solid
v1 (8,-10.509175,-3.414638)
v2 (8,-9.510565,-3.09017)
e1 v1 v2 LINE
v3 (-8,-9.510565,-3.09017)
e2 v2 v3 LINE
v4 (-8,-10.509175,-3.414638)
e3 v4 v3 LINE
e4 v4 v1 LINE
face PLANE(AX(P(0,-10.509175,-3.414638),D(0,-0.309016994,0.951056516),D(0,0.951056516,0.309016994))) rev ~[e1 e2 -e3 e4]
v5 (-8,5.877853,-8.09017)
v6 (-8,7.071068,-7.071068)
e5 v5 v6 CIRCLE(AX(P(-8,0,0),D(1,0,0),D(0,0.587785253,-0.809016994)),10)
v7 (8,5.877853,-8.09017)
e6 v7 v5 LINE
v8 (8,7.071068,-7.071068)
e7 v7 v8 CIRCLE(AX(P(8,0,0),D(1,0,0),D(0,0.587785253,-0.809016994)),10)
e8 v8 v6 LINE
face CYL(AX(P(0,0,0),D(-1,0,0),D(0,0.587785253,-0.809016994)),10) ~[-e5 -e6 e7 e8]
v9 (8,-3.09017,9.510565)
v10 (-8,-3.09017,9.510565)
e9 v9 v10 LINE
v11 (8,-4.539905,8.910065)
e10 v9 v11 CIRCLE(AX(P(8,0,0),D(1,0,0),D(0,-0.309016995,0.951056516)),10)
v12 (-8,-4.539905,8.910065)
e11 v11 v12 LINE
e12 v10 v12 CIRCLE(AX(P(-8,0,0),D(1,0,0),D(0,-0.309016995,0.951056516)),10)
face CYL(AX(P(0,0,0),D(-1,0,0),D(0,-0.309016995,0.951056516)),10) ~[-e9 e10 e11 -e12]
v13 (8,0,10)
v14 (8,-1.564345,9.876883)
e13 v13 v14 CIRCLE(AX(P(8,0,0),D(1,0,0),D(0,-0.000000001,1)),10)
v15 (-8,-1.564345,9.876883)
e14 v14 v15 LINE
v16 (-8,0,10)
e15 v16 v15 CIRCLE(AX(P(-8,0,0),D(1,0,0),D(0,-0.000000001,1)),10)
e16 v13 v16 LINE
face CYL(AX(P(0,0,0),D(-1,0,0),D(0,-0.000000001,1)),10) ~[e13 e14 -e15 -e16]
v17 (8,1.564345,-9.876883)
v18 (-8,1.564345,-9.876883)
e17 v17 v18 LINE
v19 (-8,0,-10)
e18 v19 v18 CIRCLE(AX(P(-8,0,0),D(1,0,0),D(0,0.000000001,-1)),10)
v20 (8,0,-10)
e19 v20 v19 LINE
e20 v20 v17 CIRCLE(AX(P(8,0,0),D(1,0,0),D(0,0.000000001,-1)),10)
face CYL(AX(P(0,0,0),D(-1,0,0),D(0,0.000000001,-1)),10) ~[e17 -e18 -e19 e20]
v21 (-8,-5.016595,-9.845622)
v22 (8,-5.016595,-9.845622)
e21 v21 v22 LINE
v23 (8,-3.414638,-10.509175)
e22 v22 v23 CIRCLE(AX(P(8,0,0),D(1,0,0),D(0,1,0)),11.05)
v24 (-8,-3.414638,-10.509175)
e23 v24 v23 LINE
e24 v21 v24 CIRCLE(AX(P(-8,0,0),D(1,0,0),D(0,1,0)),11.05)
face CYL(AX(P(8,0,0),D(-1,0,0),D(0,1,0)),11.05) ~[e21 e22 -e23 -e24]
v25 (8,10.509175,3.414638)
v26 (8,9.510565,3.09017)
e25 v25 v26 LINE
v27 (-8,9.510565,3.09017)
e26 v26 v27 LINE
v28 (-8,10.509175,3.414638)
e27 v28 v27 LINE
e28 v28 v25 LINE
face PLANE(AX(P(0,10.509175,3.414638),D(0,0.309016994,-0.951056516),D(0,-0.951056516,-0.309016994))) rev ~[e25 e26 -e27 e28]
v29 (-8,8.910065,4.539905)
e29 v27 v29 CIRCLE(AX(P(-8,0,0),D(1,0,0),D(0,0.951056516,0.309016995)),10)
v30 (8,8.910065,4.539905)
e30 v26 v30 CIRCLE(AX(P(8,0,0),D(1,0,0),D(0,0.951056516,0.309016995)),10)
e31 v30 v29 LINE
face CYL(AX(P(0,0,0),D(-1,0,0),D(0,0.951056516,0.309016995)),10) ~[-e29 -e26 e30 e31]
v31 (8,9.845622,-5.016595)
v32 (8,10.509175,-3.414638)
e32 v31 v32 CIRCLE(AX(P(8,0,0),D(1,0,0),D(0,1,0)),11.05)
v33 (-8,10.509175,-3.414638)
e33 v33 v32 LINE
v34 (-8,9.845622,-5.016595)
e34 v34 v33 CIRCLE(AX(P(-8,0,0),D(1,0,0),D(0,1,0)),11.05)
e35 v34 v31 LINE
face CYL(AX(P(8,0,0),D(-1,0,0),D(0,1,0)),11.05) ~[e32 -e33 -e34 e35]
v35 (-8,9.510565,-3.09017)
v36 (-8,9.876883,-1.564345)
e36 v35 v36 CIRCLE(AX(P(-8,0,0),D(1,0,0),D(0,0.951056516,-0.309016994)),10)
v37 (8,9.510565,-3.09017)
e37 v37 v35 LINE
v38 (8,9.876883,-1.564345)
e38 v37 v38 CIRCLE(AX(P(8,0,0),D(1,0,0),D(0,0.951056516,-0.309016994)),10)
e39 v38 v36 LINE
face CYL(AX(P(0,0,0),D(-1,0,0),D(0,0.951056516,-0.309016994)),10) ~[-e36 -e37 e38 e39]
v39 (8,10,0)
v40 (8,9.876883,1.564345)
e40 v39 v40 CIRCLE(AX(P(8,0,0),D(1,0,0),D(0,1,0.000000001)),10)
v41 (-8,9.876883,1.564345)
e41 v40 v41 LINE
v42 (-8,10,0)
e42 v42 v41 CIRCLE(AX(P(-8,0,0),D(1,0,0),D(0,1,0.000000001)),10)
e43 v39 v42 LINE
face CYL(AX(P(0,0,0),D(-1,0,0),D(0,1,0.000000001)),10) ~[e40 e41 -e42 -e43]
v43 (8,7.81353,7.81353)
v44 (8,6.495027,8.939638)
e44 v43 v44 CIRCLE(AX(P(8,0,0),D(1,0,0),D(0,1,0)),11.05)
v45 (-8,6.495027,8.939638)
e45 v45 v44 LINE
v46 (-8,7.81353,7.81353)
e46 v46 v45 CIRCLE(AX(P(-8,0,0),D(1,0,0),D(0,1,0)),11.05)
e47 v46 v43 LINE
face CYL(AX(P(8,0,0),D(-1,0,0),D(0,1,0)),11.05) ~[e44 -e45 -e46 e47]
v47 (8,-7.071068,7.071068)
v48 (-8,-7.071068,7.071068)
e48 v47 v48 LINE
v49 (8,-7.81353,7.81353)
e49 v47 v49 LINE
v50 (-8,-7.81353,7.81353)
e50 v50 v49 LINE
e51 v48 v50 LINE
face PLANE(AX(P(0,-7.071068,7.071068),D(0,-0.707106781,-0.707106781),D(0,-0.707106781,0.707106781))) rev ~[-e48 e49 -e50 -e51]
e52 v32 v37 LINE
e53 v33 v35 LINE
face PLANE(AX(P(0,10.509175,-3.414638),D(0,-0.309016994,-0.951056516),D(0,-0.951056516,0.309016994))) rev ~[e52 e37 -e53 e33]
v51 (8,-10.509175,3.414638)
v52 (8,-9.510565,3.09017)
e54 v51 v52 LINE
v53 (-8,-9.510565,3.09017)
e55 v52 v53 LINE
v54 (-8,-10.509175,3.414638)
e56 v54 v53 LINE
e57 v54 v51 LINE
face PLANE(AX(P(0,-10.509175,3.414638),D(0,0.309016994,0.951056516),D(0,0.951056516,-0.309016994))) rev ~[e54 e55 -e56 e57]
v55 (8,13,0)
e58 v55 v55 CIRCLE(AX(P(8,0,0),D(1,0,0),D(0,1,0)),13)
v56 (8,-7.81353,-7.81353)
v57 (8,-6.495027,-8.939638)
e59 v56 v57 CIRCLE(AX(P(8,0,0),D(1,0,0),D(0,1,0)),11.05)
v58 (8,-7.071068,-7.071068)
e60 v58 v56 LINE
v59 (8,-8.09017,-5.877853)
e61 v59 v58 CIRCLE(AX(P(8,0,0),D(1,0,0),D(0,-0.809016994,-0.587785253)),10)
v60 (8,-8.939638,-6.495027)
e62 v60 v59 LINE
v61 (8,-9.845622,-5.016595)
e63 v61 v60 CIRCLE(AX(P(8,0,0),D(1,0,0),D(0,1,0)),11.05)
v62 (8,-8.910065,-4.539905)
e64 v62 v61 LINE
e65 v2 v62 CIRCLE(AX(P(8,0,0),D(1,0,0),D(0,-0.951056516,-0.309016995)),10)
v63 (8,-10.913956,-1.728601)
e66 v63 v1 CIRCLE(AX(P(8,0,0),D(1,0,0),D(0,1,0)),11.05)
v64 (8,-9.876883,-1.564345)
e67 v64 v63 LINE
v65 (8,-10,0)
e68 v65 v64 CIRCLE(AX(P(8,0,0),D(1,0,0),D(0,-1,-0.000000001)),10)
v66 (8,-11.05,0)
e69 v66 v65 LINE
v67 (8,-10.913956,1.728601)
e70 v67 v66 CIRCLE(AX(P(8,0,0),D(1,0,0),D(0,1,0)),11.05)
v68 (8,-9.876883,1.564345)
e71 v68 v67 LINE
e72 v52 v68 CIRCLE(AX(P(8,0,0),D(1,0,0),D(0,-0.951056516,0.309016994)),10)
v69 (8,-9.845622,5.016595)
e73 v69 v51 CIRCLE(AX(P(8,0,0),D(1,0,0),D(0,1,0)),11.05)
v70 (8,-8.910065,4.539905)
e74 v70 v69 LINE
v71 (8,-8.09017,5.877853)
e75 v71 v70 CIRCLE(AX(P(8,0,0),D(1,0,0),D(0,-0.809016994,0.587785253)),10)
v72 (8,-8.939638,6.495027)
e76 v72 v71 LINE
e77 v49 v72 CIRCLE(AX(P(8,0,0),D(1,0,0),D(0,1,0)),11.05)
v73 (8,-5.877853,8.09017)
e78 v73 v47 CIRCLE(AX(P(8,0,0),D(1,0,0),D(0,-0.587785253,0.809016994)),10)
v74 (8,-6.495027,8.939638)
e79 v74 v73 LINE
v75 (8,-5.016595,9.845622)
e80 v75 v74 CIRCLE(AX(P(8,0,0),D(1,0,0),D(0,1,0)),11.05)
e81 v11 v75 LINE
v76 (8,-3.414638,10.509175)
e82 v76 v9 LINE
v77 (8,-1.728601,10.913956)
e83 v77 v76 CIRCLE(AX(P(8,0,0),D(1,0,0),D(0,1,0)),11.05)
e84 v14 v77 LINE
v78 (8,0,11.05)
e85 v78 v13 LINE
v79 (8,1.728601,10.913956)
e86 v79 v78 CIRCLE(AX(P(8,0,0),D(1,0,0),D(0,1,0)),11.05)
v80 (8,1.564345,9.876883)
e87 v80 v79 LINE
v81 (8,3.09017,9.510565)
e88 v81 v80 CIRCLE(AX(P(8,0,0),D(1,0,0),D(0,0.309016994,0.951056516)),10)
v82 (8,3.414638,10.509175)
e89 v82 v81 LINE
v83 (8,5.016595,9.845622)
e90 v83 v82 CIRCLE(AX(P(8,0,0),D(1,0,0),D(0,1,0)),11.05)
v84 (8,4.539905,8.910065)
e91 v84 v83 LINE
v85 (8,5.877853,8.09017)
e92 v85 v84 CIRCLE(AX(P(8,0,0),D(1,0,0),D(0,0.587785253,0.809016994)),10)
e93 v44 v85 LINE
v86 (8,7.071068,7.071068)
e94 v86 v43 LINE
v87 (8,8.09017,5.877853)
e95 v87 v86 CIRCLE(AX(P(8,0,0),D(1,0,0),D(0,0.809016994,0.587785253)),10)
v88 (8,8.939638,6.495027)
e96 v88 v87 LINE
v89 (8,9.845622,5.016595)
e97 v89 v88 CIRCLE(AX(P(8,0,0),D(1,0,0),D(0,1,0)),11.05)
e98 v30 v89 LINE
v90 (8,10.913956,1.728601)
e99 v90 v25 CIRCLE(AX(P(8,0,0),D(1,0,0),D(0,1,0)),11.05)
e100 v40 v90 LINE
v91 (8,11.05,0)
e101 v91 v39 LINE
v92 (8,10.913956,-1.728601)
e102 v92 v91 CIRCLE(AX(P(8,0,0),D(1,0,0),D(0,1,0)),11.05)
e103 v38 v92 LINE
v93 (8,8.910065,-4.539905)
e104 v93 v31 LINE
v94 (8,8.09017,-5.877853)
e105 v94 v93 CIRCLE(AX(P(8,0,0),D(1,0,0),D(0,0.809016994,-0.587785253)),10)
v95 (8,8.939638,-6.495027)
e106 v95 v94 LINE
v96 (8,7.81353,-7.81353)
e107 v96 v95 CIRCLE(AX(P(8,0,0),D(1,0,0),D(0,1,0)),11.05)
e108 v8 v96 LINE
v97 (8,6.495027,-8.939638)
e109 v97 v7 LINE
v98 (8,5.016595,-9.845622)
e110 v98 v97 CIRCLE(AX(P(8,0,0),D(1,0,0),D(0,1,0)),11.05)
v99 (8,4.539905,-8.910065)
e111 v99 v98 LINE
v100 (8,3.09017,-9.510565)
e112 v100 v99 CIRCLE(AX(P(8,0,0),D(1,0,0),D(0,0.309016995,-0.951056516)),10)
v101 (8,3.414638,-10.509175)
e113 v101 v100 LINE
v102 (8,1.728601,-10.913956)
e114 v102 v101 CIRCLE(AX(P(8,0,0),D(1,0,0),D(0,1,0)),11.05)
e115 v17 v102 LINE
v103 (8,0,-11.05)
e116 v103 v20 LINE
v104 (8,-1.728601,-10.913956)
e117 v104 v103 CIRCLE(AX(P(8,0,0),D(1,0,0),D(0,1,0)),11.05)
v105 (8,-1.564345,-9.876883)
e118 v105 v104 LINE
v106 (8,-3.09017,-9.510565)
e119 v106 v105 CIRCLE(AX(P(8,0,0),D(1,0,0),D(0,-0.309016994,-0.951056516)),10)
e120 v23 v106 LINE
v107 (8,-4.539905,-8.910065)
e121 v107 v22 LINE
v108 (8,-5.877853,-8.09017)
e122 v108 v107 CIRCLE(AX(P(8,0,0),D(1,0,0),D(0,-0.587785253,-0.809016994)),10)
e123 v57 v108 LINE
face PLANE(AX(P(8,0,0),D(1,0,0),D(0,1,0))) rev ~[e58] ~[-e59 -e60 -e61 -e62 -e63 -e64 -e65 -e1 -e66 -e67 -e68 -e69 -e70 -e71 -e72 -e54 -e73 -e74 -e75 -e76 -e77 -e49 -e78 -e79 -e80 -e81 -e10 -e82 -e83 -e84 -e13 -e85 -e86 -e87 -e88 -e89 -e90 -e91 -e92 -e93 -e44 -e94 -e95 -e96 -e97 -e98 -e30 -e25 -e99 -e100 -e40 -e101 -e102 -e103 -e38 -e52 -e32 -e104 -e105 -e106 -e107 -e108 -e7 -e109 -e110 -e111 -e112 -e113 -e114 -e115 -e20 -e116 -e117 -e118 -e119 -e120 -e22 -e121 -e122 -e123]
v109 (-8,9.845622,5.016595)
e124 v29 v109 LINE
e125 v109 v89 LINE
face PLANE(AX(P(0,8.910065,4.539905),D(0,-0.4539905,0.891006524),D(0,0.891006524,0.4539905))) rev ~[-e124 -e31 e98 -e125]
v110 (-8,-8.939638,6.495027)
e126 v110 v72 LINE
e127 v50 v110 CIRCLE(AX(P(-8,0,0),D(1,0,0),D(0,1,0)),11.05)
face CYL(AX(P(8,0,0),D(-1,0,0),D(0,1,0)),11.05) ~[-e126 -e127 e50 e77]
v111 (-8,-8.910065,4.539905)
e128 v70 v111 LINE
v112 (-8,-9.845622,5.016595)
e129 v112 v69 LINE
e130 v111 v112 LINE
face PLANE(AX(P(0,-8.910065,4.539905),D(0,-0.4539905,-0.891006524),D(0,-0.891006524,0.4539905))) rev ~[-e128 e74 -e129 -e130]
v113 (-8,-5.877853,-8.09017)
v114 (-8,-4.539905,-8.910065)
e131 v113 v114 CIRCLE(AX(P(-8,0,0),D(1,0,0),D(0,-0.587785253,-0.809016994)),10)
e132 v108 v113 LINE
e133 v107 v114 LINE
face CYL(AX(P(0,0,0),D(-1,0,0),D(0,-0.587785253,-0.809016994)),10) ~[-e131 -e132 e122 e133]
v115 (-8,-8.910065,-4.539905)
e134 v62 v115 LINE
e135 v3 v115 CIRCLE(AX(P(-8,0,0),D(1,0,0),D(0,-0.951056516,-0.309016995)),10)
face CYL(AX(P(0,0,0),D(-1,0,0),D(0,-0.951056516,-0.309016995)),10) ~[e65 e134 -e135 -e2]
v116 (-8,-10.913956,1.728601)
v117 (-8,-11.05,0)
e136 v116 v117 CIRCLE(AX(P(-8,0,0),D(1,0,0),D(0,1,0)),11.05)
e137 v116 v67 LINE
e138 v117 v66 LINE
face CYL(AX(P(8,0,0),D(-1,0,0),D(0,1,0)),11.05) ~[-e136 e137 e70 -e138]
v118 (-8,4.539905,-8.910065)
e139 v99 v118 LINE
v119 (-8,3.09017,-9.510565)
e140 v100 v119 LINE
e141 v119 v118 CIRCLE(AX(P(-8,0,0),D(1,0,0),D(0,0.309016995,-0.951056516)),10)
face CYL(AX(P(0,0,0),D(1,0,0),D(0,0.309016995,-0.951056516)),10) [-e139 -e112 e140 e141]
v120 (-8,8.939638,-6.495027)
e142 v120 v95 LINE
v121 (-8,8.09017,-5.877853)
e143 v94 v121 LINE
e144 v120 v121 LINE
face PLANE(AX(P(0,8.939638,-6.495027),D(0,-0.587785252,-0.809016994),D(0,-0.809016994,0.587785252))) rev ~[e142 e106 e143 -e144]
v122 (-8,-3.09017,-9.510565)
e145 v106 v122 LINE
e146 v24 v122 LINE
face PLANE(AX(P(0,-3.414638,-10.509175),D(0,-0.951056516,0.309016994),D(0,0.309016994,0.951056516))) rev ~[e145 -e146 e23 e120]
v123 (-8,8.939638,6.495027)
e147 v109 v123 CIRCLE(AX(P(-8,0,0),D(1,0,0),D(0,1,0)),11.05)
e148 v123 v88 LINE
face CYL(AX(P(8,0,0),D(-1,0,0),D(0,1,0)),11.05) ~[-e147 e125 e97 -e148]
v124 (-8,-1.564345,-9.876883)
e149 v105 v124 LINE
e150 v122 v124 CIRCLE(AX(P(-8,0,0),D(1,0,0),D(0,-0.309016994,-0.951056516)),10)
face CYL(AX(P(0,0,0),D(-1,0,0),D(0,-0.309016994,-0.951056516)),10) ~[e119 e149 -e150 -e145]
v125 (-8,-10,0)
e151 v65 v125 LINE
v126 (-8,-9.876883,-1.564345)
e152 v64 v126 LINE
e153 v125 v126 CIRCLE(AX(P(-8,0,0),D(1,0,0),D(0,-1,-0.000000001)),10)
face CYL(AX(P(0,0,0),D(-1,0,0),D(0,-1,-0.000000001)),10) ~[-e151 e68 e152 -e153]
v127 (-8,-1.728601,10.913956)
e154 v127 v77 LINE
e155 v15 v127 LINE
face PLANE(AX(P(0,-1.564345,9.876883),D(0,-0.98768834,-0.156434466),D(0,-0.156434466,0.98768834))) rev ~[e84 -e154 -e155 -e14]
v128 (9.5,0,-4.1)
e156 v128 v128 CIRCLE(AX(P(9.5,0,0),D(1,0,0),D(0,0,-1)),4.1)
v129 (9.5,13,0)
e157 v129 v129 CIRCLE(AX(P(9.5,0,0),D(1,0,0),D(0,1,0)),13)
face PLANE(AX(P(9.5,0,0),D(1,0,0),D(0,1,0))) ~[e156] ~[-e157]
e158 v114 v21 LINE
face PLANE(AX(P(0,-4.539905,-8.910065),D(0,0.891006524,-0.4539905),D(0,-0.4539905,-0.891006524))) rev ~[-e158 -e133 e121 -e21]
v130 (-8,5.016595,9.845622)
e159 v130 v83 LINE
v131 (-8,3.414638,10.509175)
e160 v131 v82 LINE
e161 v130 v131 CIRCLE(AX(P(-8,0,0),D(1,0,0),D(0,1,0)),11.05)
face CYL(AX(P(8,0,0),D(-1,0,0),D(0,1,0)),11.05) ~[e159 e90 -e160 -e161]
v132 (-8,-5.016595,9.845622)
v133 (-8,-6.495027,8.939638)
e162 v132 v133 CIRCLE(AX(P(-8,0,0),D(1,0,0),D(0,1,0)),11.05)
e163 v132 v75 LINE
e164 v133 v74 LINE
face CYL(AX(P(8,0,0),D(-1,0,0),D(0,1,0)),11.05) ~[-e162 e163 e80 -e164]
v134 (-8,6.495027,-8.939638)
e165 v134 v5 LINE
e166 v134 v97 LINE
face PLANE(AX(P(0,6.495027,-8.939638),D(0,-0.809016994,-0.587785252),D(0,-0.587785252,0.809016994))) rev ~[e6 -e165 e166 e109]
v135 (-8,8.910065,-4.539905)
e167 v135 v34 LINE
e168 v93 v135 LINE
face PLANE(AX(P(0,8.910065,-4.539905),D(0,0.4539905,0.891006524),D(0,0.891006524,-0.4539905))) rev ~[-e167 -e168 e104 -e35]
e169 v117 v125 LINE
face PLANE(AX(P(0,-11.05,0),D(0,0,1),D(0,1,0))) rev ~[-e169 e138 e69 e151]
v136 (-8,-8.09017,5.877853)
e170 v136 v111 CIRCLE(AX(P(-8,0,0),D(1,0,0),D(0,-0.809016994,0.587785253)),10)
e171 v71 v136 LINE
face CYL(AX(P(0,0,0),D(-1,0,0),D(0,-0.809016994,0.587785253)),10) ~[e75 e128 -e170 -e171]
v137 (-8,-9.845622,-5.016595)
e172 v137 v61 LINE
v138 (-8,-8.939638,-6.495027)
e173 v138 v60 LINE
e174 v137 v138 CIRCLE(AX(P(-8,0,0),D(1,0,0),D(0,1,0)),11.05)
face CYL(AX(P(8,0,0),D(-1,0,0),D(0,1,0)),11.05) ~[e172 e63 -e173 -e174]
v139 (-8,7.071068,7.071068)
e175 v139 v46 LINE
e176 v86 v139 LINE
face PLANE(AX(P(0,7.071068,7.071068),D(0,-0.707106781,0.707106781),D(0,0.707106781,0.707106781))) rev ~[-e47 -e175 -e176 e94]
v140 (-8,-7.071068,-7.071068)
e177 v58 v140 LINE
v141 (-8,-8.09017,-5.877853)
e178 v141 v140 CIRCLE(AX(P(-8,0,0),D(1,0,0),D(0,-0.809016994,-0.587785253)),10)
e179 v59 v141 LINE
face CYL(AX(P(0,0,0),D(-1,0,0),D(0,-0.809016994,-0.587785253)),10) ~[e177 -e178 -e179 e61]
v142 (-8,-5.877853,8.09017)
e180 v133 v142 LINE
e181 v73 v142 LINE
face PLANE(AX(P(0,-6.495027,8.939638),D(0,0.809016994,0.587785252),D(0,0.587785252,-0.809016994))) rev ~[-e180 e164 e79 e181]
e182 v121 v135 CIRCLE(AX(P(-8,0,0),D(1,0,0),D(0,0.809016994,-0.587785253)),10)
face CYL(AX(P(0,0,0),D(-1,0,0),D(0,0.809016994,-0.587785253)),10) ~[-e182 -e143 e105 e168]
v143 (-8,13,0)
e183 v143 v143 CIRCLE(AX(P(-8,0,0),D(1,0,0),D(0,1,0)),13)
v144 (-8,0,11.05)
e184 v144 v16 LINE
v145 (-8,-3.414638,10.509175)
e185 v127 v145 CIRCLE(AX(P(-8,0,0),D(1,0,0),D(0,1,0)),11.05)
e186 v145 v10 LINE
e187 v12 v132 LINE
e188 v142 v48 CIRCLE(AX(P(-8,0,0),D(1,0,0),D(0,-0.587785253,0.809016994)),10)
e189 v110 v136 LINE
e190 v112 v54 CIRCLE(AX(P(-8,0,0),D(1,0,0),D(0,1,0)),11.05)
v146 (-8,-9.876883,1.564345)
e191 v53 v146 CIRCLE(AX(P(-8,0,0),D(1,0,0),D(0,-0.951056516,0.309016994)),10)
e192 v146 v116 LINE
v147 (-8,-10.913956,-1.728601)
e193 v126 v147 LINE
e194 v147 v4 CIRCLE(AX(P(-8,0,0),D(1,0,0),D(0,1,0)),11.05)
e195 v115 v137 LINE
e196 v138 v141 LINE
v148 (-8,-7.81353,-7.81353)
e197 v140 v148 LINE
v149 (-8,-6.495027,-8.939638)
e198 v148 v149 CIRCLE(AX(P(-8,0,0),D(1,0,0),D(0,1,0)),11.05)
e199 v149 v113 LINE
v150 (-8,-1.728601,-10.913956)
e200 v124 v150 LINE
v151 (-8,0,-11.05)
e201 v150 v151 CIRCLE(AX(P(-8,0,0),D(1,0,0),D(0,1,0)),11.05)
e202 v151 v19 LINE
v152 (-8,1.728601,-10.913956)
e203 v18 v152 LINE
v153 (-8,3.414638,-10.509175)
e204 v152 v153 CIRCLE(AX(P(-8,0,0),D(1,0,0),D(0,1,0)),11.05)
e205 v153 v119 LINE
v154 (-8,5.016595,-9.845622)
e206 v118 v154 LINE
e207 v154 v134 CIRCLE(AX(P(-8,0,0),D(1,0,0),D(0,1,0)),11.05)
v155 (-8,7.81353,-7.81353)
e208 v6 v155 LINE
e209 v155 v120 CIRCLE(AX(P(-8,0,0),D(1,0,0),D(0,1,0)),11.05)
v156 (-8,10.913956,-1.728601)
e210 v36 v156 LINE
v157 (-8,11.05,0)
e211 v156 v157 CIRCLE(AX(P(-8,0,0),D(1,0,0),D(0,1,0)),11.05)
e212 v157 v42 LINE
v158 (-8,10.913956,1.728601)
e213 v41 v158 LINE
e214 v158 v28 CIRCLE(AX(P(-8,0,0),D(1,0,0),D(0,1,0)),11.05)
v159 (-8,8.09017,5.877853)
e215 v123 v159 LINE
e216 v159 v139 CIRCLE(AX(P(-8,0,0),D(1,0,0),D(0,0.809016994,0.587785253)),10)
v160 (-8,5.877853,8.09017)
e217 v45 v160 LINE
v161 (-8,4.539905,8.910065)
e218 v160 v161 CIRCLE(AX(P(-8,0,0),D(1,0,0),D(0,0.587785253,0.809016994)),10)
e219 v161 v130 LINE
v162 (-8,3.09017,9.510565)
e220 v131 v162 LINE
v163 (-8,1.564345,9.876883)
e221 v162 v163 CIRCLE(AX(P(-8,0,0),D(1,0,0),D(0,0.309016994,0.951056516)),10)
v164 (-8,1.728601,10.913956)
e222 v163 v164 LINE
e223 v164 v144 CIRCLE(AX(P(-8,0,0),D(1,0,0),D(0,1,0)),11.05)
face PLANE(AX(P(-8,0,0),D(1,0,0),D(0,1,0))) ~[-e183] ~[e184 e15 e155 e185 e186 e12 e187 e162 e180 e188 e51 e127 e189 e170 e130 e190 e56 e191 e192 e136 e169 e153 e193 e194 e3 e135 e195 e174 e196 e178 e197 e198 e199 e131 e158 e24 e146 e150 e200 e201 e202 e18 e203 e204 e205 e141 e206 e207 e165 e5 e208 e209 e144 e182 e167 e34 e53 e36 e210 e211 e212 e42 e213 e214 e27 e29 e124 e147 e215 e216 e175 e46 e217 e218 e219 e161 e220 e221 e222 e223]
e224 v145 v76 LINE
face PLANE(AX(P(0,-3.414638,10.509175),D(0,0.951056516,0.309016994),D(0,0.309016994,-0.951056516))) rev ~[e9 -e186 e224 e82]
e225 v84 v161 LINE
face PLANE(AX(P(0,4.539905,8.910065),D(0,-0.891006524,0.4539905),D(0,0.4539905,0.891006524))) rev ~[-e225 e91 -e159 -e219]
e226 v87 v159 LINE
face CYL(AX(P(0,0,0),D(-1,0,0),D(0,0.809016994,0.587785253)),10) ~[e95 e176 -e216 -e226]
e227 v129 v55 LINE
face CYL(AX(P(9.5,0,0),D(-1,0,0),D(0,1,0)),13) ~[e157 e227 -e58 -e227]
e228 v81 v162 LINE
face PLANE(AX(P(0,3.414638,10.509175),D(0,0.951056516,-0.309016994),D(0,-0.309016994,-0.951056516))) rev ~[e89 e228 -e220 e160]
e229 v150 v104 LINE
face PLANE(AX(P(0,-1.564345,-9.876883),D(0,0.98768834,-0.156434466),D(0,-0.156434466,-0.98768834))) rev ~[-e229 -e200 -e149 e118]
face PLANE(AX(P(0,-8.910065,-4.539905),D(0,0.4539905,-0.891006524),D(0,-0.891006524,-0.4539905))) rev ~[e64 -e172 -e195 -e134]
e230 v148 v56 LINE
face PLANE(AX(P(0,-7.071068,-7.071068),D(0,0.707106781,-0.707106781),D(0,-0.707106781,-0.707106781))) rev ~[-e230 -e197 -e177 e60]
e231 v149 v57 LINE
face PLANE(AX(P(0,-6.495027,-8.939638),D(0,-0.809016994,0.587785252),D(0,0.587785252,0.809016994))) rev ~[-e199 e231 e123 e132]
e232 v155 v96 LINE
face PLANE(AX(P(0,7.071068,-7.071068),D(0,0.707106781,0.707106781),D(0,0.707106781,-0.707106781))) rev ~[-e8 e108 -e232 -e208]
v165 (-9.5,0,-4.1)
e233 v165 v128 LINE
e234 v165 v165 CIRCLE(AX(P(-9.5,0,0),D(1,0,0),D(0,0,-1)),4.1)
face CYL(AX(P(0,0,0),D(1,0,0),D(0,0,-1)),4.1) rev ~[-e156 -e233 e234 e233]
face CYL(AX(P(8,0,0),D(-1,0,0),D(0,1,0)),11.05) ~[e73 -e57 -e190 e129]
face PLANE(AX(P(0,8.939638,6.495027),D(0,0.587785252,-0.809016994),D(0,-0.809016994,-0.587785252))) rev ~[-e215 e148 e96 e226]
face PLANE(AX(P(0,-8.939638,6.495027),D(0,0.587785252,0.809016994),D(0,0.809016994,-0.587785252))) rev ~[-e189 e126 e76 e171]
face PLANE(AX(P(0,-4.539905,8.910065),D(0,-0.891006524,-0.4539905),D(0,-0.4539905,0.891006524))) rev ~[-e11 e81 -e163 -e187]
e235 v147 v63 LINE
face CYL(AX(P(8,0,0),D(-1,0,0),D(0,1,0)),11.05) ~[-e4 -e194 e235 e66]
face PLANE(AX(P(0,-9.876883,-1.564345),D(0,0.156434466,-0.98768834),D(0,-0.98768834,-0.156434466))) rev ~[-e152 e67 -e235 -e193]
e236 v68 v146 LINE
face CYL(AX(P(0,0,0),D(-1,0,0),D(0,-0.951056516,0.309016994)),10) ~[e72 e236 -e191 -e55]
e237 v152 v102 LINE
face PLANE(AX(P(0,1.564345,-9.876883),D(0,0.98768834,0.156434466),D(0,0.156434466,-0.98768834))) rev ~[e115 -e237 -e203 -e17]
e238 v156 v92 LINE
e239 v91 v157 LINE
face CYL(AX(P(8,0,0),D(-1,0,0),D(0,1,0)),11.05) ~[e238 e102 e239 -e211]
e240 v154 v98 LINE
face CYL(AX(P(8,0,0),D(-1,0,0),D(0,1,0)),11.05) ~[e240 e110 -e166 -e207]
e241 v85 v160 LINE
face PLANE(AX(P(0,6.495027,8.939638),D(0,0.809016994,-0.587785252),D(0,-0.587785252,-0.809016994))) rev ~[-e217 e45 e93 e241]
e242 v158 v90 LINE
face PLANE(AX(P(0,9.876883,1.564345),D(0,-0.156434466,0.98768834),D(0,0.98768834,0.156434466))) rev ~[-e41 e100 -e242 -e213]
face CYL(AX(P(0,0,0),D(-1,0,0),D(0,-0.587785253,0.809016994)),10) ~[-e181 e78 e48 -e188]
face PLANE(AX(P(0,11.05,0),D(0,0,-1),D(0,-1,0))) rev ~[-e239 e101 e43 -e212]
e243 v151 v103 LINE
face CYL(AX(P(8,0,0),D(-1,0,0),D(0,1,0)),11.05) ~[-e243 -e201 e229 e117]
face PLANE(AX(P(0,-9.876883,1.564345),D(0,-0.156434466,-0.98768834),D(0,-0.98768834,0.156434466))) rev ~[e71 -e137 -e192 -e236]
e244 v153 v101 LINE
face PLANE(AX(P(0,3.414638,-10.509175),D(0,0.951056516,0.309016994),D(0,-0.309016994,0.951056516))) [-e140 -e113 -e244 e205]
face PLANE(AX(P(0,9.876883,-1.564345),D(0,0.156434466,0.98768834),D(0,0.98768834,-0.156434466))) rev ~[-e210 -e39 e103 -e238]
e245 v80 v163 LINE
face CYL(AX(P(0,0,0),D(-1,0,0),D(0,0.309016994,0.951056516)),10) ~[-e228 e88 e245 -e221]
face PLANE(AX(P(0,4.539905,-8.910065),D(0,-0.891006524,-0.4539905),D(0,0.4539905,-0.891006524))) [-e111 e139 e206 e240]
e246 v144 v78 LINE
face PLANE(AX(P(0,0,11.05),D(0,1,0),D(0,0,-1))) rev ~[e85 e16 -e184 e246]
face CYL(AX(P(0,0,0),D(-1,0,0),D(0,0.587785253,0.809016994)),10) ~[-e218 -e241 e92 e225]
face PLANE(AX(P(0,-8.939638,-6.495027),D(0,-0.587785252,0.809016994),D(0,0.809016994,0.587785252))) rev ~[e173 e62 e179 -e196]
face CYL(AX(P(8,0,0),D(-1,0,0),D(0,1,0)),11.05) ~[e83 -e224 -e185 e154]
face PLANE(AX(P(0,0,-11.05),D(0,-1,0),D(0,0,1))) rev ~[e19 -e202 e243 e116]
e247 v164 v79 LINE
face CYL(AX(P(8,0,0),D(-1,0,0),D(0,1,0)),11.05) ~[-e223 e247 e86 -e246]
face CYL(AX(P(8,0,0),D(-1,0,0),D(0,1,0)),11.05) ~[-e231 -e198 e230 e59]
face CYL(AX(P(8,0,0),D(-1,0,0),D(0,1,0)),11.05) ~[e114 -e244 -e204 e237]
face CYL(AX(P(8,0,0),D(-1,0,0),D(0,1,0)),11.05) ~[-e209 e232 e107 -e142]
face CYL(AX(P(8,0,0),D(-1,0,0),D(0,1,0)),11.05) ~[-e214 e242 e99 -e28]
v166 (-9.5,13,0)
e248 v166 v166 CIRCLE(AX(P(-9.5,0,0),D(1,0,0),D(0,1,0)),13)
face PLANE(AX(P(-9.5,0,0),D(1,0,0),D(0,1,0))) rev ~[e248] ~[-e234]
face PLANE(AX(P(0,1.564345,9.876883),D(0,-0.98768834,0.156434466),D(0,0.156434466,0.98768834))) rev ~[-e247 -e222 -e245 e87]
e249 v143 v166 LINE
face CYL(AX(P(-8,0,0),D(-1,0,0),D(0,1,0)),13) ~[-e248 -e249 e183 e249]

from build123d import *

# Parameters (mm, degrees)
CUT_EXTRUDE_1_DEPTH = 8
SKETCH_7_R          = 4.1
CUT_EXTRUDE_3_DEPTH = 10


with BuildPart() as part:
    # 草图1 → 旋转1 (revolve)
    with BuildSketch(Plane.XY):
        Polygon((-9.5, 0), (9.5, 0), (9.5, 13), (8, 13), (8, 11.05), (-8, 11.05), (-8, 13), (-9.5, 13), align=None)
    revolve(axis=Axis((-9.5, 0, 0), (1, 0, 0)))

    # 草图2 → 切除-拉伸1 (cut, symmetric)
    with BuildSketch(Plane(origin=(0, 0, 0), x_dir=(0, 0, -1), z_dir=(1, 0, 0))):
        with BuildLine():
            Line((11.05, 0), (10, 0))
            ThreePointArc((10, 0), (9.969173337, 0.784590957), (9.876883406, 1.56434465))
            Line((9.876883406, 1.56434465), (10.913956164, 1.728600839))
            ThreePointArc((10.913956164, 1.728600839), (11.015936538, 0.866973008), (11.05, 0))
        make_face()
        with BuildLine():
            Line((10.509174505, -3.414637788), (9.510565163, -3.090169944))
            ThreePointArc((9.510565163, -3.090169944), (9.723699204, -2.334453639), (9.876883406, -1.56434465))
            Line((9.876883406, -1.56434465), (10.913956164, -1.728600839))
            ThreePointArc((10.913956164, -1.728600839), (10.74468762, -2.579571271), (10.509174505, -3.414637788))
        make_face()
        with BuildLine():
            Line((8.939637788, -6.495027038), (8.090169944, -5.877852523))
            ThreePointArc((8.090169944, -5.877852523), (8.526401644, -5.224985647), (8.910065242, -4.539904997))
            Line((8.910065242, -4.539904997), (9.845622092, -5.016595022))
            ThreePointArc((9.845622092, -5.016595022), (9.421673816, -5.77360914), (8.939637788, -6.495027038))
        make_face()
        with BuildLine():
            Line((6.495027038, -8.939637788), (5.877852523, -8.090169944))
            ThreePointArc((5.877852523, -8.090169944), (6.494480483, -7.604059656), (7.071067812, -7.071067812))
            Line((7.071067812, -7.071067812), (7.813529932, -7.813529932))
            ThreePointArc((7.813529932, -7.813529932), (7.176400934, -8.40248592), (6.495027038, -8.939637788))
        make_face()
        with BuildLine():
            Line((3.414637788, -10.509174505), (3.090169944, -9.510565163))
            ThreePointArc((3.090169944, -9.510565163), (3.826834324, -9.238795325), (4.539904997, -8.910065242))
            Line((4.539904997, -8.910065242), (5.016595022, -9.845622092))
            ThreePointArc((5.016595022, -9.845622092), (4.228651928, -10.208868834), (3.414637788, -10.509174505))
        make_face()
        with BuildLine():
            Line((0, -11.05), (0, -10))
            ThreePointArc((0, -10), (0.784590957, -9.969173337), (1.56434465, -9.876883406))
            Line((1.56434465, -9.876883406), (1.728600839, -10.913956164))
            ThreePointArc((1.728600839, -10.913956164), (0.866973008, -11.015936538), (0, -11.05))
        make_face()
        with BuildLine():
            Line((-3.414637788, -10.509174505), (-3.090169944, -9.510565163))
            ThreePointArc((-3.090169944, -9.510565163), (-2.334453639, -9.723699204), (-1.56434465, -9.876883406))
            Line((-1.56434465, -9.876883406), (-1.728600839, -10.913956164))
            ThreePointArc((-1.728600839, -10.913956164), (-2.579571271, -10.74468762), (-3.414637788, -10.509174505))
        make_face()
        with BuildLine():
            Line((-6.495027038, -8.939637788), (-5.877852523, -8.090169944))
            ThreePointArc((-5.877852523, -8.090169944), (-5.224985647, -8.526401644), (-4.539904997, -8.910065242))
            Line((-4.539904997, -8.910065242), (-5.016595022, -9.845622092))
            ThreePointArc((-5.016595022, -9.845622092), (-5.77360914, -9.421673816), (-6.495027038, -8.939637788))
        make_face()
        with BuildLine():
            Line((-8.939637788, -6.495027038), (-8.090169944, -5.877852523))
            ThreePointArc((-8.090169944, -5.877852523), (-7.604059656, -6.494480483), (-7.071067812, -7.071067812))
            Line((-7.071067812, -7.071067812), (-7.813529932, -7.813529932))
            ThreePointArc((-7.813529932, -7.813529932), (-8.40248592, -7.176400934), (-8.939637788, -6.495027038))
        make_face()
        with BuildLine():
            Line((-10.509174505, -3.414637788), (-9.510565163, -3.090169944))
            ThreePointArc((-9.510565163, -3.090169944), (-9.238795325, -3.826834324), (-8.910065242, -4.539904997))
            Line((-8.910065242, -4.539904997), (-9.845622092, -5.016595022))
            ThreePointArc((-9.845622092, -5.016595022), (-10.208868834, -4.228651928), (-10.509174505, -3.414637788))
        make_face()
        with BuildLine():
            Line((-11.05, 0), (-10, 0))
            ThreePointArc((-10, 0), (-9.969173337, -0.784590957), (-9.876883406, -1.56434465))
            Line((-9.876883406, -1.56434465), (-10.913956164, -1.728600839))
            ThreePointArc((-10.913956164, -1.728600839), (-11.015936538, -0.866973008), (-11.05, 0))
        make_face()
        with BuildLine():
            Line((-10.509174505, 3.414637788), (-9.510565163, 3.090169944))
            ThreePointArc((-9.510565163, 3.090169944), (-9.723699204, 2.334453639), (-9.876883406, 1.56434465))
            Line((-9.876883406, 1.56434465), (-10.913956164, 1.728600839))
            ThreePointArc((-10.913956164, 1.728600839), (-10.74468762, 2.579571271), (-10.509174505, 3.414637788))
        make_face()
        with BuildLine():
            Line((-8.939637788, 6.495027038), (-8.090169944, 5.877852523))
            ThreePointArc((-8.090169944, 5.877852523), (-8.526401644, 5.224985647), (-8.910065242, 4.539904997))
            Line((-8.910065242, 4.539904997), (-9.845622092, 5.016595022))
            ThreePointArc((-9.845622092, 5.016595022), (-9.421673816, 5.77360914), (-8.939637788, 6.495027038))
        make_face()
        with BuildLine():
            Line((-6.495027038, 8.939637788), (-5.877852523, 8.090169944))
            ThreePointArc((-5.877852523, 8.090169944), (-6.494480483, 7.604059656), (-7.071067812, 7.071067812))
            Line((-7.071067812, 7.071067812), (-7.813529932, 7.813529932))
            ThreePointArc((-7.813529932, 7.813529932), (-7.176400934, 8.40248592), (-6.495027038, 8.939637788))
        make_face()
        with BuildLine():
            Line((-3.414637788, 10.509174505), (-3.090169944, 9.510565163))
            ThreePointArc((-3.090169944, 9.510565163), (-3.826834324, 9.238795325), (-4.539904997, 8.910065242))
            Line((-4.539904997, 8.910065242), (-5.016595022, 9.845622092))
            ThreePointArc((-5.016595022, 9.845622092), (-4.228651928, 10.208868834), (-3.414637788, 10.509174505))
        make_face()
        with BuildLine():
            Line((0, 11.05), (0, 10))
            ThreePointArc((0, 10), (-0.784590957, 9.969173337), (-1.56434465, 9.876883406))
            Line((-1.56434465, 9.876883406), (-1.728600839, 10.913956164))
            ThreePointArc((-1.728600839, 10.913956164), (-0.866973008, 11.015936538), (0, 11.05))
        make_face()
        with BuildLine():
            Line((3.414637788, 10.509174505), (3.090169944, 9.510565163))
            ThreePointArc((3.090169944, 9.510565163), (2.334453639, 9.723699204), (1.56434465, 9.876883406))
            Line((1.56434465, 9.876883406), (1.728600839, 10.913956164))
            ThreePointArc((1.728600839, 10.913956164), (2.579571271, 10.74468762), (3.414637788, 10.509174505))
        make_face()
        with BuildLine():
            Line((6.495027038, 8.939637788), (5.877852523, 8.090169944))
            ThreePointArc((5.877852523, 8.090169944), (5.224985647, 8.526401644), (4.539904997, 8.910065242))
            Line((4.539904997, 8.910065242), (5.016595022, 9.845622092))
            ThreePointArc((5.016595022, 9.845622092), (5.77360914, 9.421673816), (6.495027038, 8.939637788))
        make_face()
        with BuildLine():
            Line((8.939637788, 6.495027038), (8.090169944, 5.877852523))
            ThreePointArc((8.090169944, 5.877852523), (7.604059656, 6.494480483), (7.071067812, 7.071067812))
            Line((7.071067812, 7.071067812), (7.813529932, 7.813529932))
            ThreePointArc((7.813529932, 7.813529932), (8.40248592, 7.176400934), (8.939637788, 6.495027038))
        make_face()
        with BuildLine():
            Line((10.509174505, 3.414637788), (9.510565163, 3.090169944))
            ThreePointArc((9.510565163, 3.090169944), (9.238795325, 3.826834324), (8.910065242, 4.539904997))
            Line((8.910065242, 4.539904997), (9.845622092, 5.016595022))
            ThreePointArc((9.845622092, 5.016595022), (10.208868834, 4.228651928), (10.509174505, 3.414637788))
        make_face()
    extrude(amount=CUT_EXTRUDE_1_DEPTH, both=True, mode=Mode.SUBTRACT)

    # 草图7 → 切除-拉伸3 (cut, symmetric)
    with BuildSketch(Plane(origin=(0, 0, 0), x_dir=(0, 0, -1), z_dir=(1, 0, 0))):
        Circle(SKETCH_7_R)
    extrude(amount=CUT_EXTRUDE_3_DEPTH, both=True, mode=Mode.SUBTRACT)


solid = part.part
